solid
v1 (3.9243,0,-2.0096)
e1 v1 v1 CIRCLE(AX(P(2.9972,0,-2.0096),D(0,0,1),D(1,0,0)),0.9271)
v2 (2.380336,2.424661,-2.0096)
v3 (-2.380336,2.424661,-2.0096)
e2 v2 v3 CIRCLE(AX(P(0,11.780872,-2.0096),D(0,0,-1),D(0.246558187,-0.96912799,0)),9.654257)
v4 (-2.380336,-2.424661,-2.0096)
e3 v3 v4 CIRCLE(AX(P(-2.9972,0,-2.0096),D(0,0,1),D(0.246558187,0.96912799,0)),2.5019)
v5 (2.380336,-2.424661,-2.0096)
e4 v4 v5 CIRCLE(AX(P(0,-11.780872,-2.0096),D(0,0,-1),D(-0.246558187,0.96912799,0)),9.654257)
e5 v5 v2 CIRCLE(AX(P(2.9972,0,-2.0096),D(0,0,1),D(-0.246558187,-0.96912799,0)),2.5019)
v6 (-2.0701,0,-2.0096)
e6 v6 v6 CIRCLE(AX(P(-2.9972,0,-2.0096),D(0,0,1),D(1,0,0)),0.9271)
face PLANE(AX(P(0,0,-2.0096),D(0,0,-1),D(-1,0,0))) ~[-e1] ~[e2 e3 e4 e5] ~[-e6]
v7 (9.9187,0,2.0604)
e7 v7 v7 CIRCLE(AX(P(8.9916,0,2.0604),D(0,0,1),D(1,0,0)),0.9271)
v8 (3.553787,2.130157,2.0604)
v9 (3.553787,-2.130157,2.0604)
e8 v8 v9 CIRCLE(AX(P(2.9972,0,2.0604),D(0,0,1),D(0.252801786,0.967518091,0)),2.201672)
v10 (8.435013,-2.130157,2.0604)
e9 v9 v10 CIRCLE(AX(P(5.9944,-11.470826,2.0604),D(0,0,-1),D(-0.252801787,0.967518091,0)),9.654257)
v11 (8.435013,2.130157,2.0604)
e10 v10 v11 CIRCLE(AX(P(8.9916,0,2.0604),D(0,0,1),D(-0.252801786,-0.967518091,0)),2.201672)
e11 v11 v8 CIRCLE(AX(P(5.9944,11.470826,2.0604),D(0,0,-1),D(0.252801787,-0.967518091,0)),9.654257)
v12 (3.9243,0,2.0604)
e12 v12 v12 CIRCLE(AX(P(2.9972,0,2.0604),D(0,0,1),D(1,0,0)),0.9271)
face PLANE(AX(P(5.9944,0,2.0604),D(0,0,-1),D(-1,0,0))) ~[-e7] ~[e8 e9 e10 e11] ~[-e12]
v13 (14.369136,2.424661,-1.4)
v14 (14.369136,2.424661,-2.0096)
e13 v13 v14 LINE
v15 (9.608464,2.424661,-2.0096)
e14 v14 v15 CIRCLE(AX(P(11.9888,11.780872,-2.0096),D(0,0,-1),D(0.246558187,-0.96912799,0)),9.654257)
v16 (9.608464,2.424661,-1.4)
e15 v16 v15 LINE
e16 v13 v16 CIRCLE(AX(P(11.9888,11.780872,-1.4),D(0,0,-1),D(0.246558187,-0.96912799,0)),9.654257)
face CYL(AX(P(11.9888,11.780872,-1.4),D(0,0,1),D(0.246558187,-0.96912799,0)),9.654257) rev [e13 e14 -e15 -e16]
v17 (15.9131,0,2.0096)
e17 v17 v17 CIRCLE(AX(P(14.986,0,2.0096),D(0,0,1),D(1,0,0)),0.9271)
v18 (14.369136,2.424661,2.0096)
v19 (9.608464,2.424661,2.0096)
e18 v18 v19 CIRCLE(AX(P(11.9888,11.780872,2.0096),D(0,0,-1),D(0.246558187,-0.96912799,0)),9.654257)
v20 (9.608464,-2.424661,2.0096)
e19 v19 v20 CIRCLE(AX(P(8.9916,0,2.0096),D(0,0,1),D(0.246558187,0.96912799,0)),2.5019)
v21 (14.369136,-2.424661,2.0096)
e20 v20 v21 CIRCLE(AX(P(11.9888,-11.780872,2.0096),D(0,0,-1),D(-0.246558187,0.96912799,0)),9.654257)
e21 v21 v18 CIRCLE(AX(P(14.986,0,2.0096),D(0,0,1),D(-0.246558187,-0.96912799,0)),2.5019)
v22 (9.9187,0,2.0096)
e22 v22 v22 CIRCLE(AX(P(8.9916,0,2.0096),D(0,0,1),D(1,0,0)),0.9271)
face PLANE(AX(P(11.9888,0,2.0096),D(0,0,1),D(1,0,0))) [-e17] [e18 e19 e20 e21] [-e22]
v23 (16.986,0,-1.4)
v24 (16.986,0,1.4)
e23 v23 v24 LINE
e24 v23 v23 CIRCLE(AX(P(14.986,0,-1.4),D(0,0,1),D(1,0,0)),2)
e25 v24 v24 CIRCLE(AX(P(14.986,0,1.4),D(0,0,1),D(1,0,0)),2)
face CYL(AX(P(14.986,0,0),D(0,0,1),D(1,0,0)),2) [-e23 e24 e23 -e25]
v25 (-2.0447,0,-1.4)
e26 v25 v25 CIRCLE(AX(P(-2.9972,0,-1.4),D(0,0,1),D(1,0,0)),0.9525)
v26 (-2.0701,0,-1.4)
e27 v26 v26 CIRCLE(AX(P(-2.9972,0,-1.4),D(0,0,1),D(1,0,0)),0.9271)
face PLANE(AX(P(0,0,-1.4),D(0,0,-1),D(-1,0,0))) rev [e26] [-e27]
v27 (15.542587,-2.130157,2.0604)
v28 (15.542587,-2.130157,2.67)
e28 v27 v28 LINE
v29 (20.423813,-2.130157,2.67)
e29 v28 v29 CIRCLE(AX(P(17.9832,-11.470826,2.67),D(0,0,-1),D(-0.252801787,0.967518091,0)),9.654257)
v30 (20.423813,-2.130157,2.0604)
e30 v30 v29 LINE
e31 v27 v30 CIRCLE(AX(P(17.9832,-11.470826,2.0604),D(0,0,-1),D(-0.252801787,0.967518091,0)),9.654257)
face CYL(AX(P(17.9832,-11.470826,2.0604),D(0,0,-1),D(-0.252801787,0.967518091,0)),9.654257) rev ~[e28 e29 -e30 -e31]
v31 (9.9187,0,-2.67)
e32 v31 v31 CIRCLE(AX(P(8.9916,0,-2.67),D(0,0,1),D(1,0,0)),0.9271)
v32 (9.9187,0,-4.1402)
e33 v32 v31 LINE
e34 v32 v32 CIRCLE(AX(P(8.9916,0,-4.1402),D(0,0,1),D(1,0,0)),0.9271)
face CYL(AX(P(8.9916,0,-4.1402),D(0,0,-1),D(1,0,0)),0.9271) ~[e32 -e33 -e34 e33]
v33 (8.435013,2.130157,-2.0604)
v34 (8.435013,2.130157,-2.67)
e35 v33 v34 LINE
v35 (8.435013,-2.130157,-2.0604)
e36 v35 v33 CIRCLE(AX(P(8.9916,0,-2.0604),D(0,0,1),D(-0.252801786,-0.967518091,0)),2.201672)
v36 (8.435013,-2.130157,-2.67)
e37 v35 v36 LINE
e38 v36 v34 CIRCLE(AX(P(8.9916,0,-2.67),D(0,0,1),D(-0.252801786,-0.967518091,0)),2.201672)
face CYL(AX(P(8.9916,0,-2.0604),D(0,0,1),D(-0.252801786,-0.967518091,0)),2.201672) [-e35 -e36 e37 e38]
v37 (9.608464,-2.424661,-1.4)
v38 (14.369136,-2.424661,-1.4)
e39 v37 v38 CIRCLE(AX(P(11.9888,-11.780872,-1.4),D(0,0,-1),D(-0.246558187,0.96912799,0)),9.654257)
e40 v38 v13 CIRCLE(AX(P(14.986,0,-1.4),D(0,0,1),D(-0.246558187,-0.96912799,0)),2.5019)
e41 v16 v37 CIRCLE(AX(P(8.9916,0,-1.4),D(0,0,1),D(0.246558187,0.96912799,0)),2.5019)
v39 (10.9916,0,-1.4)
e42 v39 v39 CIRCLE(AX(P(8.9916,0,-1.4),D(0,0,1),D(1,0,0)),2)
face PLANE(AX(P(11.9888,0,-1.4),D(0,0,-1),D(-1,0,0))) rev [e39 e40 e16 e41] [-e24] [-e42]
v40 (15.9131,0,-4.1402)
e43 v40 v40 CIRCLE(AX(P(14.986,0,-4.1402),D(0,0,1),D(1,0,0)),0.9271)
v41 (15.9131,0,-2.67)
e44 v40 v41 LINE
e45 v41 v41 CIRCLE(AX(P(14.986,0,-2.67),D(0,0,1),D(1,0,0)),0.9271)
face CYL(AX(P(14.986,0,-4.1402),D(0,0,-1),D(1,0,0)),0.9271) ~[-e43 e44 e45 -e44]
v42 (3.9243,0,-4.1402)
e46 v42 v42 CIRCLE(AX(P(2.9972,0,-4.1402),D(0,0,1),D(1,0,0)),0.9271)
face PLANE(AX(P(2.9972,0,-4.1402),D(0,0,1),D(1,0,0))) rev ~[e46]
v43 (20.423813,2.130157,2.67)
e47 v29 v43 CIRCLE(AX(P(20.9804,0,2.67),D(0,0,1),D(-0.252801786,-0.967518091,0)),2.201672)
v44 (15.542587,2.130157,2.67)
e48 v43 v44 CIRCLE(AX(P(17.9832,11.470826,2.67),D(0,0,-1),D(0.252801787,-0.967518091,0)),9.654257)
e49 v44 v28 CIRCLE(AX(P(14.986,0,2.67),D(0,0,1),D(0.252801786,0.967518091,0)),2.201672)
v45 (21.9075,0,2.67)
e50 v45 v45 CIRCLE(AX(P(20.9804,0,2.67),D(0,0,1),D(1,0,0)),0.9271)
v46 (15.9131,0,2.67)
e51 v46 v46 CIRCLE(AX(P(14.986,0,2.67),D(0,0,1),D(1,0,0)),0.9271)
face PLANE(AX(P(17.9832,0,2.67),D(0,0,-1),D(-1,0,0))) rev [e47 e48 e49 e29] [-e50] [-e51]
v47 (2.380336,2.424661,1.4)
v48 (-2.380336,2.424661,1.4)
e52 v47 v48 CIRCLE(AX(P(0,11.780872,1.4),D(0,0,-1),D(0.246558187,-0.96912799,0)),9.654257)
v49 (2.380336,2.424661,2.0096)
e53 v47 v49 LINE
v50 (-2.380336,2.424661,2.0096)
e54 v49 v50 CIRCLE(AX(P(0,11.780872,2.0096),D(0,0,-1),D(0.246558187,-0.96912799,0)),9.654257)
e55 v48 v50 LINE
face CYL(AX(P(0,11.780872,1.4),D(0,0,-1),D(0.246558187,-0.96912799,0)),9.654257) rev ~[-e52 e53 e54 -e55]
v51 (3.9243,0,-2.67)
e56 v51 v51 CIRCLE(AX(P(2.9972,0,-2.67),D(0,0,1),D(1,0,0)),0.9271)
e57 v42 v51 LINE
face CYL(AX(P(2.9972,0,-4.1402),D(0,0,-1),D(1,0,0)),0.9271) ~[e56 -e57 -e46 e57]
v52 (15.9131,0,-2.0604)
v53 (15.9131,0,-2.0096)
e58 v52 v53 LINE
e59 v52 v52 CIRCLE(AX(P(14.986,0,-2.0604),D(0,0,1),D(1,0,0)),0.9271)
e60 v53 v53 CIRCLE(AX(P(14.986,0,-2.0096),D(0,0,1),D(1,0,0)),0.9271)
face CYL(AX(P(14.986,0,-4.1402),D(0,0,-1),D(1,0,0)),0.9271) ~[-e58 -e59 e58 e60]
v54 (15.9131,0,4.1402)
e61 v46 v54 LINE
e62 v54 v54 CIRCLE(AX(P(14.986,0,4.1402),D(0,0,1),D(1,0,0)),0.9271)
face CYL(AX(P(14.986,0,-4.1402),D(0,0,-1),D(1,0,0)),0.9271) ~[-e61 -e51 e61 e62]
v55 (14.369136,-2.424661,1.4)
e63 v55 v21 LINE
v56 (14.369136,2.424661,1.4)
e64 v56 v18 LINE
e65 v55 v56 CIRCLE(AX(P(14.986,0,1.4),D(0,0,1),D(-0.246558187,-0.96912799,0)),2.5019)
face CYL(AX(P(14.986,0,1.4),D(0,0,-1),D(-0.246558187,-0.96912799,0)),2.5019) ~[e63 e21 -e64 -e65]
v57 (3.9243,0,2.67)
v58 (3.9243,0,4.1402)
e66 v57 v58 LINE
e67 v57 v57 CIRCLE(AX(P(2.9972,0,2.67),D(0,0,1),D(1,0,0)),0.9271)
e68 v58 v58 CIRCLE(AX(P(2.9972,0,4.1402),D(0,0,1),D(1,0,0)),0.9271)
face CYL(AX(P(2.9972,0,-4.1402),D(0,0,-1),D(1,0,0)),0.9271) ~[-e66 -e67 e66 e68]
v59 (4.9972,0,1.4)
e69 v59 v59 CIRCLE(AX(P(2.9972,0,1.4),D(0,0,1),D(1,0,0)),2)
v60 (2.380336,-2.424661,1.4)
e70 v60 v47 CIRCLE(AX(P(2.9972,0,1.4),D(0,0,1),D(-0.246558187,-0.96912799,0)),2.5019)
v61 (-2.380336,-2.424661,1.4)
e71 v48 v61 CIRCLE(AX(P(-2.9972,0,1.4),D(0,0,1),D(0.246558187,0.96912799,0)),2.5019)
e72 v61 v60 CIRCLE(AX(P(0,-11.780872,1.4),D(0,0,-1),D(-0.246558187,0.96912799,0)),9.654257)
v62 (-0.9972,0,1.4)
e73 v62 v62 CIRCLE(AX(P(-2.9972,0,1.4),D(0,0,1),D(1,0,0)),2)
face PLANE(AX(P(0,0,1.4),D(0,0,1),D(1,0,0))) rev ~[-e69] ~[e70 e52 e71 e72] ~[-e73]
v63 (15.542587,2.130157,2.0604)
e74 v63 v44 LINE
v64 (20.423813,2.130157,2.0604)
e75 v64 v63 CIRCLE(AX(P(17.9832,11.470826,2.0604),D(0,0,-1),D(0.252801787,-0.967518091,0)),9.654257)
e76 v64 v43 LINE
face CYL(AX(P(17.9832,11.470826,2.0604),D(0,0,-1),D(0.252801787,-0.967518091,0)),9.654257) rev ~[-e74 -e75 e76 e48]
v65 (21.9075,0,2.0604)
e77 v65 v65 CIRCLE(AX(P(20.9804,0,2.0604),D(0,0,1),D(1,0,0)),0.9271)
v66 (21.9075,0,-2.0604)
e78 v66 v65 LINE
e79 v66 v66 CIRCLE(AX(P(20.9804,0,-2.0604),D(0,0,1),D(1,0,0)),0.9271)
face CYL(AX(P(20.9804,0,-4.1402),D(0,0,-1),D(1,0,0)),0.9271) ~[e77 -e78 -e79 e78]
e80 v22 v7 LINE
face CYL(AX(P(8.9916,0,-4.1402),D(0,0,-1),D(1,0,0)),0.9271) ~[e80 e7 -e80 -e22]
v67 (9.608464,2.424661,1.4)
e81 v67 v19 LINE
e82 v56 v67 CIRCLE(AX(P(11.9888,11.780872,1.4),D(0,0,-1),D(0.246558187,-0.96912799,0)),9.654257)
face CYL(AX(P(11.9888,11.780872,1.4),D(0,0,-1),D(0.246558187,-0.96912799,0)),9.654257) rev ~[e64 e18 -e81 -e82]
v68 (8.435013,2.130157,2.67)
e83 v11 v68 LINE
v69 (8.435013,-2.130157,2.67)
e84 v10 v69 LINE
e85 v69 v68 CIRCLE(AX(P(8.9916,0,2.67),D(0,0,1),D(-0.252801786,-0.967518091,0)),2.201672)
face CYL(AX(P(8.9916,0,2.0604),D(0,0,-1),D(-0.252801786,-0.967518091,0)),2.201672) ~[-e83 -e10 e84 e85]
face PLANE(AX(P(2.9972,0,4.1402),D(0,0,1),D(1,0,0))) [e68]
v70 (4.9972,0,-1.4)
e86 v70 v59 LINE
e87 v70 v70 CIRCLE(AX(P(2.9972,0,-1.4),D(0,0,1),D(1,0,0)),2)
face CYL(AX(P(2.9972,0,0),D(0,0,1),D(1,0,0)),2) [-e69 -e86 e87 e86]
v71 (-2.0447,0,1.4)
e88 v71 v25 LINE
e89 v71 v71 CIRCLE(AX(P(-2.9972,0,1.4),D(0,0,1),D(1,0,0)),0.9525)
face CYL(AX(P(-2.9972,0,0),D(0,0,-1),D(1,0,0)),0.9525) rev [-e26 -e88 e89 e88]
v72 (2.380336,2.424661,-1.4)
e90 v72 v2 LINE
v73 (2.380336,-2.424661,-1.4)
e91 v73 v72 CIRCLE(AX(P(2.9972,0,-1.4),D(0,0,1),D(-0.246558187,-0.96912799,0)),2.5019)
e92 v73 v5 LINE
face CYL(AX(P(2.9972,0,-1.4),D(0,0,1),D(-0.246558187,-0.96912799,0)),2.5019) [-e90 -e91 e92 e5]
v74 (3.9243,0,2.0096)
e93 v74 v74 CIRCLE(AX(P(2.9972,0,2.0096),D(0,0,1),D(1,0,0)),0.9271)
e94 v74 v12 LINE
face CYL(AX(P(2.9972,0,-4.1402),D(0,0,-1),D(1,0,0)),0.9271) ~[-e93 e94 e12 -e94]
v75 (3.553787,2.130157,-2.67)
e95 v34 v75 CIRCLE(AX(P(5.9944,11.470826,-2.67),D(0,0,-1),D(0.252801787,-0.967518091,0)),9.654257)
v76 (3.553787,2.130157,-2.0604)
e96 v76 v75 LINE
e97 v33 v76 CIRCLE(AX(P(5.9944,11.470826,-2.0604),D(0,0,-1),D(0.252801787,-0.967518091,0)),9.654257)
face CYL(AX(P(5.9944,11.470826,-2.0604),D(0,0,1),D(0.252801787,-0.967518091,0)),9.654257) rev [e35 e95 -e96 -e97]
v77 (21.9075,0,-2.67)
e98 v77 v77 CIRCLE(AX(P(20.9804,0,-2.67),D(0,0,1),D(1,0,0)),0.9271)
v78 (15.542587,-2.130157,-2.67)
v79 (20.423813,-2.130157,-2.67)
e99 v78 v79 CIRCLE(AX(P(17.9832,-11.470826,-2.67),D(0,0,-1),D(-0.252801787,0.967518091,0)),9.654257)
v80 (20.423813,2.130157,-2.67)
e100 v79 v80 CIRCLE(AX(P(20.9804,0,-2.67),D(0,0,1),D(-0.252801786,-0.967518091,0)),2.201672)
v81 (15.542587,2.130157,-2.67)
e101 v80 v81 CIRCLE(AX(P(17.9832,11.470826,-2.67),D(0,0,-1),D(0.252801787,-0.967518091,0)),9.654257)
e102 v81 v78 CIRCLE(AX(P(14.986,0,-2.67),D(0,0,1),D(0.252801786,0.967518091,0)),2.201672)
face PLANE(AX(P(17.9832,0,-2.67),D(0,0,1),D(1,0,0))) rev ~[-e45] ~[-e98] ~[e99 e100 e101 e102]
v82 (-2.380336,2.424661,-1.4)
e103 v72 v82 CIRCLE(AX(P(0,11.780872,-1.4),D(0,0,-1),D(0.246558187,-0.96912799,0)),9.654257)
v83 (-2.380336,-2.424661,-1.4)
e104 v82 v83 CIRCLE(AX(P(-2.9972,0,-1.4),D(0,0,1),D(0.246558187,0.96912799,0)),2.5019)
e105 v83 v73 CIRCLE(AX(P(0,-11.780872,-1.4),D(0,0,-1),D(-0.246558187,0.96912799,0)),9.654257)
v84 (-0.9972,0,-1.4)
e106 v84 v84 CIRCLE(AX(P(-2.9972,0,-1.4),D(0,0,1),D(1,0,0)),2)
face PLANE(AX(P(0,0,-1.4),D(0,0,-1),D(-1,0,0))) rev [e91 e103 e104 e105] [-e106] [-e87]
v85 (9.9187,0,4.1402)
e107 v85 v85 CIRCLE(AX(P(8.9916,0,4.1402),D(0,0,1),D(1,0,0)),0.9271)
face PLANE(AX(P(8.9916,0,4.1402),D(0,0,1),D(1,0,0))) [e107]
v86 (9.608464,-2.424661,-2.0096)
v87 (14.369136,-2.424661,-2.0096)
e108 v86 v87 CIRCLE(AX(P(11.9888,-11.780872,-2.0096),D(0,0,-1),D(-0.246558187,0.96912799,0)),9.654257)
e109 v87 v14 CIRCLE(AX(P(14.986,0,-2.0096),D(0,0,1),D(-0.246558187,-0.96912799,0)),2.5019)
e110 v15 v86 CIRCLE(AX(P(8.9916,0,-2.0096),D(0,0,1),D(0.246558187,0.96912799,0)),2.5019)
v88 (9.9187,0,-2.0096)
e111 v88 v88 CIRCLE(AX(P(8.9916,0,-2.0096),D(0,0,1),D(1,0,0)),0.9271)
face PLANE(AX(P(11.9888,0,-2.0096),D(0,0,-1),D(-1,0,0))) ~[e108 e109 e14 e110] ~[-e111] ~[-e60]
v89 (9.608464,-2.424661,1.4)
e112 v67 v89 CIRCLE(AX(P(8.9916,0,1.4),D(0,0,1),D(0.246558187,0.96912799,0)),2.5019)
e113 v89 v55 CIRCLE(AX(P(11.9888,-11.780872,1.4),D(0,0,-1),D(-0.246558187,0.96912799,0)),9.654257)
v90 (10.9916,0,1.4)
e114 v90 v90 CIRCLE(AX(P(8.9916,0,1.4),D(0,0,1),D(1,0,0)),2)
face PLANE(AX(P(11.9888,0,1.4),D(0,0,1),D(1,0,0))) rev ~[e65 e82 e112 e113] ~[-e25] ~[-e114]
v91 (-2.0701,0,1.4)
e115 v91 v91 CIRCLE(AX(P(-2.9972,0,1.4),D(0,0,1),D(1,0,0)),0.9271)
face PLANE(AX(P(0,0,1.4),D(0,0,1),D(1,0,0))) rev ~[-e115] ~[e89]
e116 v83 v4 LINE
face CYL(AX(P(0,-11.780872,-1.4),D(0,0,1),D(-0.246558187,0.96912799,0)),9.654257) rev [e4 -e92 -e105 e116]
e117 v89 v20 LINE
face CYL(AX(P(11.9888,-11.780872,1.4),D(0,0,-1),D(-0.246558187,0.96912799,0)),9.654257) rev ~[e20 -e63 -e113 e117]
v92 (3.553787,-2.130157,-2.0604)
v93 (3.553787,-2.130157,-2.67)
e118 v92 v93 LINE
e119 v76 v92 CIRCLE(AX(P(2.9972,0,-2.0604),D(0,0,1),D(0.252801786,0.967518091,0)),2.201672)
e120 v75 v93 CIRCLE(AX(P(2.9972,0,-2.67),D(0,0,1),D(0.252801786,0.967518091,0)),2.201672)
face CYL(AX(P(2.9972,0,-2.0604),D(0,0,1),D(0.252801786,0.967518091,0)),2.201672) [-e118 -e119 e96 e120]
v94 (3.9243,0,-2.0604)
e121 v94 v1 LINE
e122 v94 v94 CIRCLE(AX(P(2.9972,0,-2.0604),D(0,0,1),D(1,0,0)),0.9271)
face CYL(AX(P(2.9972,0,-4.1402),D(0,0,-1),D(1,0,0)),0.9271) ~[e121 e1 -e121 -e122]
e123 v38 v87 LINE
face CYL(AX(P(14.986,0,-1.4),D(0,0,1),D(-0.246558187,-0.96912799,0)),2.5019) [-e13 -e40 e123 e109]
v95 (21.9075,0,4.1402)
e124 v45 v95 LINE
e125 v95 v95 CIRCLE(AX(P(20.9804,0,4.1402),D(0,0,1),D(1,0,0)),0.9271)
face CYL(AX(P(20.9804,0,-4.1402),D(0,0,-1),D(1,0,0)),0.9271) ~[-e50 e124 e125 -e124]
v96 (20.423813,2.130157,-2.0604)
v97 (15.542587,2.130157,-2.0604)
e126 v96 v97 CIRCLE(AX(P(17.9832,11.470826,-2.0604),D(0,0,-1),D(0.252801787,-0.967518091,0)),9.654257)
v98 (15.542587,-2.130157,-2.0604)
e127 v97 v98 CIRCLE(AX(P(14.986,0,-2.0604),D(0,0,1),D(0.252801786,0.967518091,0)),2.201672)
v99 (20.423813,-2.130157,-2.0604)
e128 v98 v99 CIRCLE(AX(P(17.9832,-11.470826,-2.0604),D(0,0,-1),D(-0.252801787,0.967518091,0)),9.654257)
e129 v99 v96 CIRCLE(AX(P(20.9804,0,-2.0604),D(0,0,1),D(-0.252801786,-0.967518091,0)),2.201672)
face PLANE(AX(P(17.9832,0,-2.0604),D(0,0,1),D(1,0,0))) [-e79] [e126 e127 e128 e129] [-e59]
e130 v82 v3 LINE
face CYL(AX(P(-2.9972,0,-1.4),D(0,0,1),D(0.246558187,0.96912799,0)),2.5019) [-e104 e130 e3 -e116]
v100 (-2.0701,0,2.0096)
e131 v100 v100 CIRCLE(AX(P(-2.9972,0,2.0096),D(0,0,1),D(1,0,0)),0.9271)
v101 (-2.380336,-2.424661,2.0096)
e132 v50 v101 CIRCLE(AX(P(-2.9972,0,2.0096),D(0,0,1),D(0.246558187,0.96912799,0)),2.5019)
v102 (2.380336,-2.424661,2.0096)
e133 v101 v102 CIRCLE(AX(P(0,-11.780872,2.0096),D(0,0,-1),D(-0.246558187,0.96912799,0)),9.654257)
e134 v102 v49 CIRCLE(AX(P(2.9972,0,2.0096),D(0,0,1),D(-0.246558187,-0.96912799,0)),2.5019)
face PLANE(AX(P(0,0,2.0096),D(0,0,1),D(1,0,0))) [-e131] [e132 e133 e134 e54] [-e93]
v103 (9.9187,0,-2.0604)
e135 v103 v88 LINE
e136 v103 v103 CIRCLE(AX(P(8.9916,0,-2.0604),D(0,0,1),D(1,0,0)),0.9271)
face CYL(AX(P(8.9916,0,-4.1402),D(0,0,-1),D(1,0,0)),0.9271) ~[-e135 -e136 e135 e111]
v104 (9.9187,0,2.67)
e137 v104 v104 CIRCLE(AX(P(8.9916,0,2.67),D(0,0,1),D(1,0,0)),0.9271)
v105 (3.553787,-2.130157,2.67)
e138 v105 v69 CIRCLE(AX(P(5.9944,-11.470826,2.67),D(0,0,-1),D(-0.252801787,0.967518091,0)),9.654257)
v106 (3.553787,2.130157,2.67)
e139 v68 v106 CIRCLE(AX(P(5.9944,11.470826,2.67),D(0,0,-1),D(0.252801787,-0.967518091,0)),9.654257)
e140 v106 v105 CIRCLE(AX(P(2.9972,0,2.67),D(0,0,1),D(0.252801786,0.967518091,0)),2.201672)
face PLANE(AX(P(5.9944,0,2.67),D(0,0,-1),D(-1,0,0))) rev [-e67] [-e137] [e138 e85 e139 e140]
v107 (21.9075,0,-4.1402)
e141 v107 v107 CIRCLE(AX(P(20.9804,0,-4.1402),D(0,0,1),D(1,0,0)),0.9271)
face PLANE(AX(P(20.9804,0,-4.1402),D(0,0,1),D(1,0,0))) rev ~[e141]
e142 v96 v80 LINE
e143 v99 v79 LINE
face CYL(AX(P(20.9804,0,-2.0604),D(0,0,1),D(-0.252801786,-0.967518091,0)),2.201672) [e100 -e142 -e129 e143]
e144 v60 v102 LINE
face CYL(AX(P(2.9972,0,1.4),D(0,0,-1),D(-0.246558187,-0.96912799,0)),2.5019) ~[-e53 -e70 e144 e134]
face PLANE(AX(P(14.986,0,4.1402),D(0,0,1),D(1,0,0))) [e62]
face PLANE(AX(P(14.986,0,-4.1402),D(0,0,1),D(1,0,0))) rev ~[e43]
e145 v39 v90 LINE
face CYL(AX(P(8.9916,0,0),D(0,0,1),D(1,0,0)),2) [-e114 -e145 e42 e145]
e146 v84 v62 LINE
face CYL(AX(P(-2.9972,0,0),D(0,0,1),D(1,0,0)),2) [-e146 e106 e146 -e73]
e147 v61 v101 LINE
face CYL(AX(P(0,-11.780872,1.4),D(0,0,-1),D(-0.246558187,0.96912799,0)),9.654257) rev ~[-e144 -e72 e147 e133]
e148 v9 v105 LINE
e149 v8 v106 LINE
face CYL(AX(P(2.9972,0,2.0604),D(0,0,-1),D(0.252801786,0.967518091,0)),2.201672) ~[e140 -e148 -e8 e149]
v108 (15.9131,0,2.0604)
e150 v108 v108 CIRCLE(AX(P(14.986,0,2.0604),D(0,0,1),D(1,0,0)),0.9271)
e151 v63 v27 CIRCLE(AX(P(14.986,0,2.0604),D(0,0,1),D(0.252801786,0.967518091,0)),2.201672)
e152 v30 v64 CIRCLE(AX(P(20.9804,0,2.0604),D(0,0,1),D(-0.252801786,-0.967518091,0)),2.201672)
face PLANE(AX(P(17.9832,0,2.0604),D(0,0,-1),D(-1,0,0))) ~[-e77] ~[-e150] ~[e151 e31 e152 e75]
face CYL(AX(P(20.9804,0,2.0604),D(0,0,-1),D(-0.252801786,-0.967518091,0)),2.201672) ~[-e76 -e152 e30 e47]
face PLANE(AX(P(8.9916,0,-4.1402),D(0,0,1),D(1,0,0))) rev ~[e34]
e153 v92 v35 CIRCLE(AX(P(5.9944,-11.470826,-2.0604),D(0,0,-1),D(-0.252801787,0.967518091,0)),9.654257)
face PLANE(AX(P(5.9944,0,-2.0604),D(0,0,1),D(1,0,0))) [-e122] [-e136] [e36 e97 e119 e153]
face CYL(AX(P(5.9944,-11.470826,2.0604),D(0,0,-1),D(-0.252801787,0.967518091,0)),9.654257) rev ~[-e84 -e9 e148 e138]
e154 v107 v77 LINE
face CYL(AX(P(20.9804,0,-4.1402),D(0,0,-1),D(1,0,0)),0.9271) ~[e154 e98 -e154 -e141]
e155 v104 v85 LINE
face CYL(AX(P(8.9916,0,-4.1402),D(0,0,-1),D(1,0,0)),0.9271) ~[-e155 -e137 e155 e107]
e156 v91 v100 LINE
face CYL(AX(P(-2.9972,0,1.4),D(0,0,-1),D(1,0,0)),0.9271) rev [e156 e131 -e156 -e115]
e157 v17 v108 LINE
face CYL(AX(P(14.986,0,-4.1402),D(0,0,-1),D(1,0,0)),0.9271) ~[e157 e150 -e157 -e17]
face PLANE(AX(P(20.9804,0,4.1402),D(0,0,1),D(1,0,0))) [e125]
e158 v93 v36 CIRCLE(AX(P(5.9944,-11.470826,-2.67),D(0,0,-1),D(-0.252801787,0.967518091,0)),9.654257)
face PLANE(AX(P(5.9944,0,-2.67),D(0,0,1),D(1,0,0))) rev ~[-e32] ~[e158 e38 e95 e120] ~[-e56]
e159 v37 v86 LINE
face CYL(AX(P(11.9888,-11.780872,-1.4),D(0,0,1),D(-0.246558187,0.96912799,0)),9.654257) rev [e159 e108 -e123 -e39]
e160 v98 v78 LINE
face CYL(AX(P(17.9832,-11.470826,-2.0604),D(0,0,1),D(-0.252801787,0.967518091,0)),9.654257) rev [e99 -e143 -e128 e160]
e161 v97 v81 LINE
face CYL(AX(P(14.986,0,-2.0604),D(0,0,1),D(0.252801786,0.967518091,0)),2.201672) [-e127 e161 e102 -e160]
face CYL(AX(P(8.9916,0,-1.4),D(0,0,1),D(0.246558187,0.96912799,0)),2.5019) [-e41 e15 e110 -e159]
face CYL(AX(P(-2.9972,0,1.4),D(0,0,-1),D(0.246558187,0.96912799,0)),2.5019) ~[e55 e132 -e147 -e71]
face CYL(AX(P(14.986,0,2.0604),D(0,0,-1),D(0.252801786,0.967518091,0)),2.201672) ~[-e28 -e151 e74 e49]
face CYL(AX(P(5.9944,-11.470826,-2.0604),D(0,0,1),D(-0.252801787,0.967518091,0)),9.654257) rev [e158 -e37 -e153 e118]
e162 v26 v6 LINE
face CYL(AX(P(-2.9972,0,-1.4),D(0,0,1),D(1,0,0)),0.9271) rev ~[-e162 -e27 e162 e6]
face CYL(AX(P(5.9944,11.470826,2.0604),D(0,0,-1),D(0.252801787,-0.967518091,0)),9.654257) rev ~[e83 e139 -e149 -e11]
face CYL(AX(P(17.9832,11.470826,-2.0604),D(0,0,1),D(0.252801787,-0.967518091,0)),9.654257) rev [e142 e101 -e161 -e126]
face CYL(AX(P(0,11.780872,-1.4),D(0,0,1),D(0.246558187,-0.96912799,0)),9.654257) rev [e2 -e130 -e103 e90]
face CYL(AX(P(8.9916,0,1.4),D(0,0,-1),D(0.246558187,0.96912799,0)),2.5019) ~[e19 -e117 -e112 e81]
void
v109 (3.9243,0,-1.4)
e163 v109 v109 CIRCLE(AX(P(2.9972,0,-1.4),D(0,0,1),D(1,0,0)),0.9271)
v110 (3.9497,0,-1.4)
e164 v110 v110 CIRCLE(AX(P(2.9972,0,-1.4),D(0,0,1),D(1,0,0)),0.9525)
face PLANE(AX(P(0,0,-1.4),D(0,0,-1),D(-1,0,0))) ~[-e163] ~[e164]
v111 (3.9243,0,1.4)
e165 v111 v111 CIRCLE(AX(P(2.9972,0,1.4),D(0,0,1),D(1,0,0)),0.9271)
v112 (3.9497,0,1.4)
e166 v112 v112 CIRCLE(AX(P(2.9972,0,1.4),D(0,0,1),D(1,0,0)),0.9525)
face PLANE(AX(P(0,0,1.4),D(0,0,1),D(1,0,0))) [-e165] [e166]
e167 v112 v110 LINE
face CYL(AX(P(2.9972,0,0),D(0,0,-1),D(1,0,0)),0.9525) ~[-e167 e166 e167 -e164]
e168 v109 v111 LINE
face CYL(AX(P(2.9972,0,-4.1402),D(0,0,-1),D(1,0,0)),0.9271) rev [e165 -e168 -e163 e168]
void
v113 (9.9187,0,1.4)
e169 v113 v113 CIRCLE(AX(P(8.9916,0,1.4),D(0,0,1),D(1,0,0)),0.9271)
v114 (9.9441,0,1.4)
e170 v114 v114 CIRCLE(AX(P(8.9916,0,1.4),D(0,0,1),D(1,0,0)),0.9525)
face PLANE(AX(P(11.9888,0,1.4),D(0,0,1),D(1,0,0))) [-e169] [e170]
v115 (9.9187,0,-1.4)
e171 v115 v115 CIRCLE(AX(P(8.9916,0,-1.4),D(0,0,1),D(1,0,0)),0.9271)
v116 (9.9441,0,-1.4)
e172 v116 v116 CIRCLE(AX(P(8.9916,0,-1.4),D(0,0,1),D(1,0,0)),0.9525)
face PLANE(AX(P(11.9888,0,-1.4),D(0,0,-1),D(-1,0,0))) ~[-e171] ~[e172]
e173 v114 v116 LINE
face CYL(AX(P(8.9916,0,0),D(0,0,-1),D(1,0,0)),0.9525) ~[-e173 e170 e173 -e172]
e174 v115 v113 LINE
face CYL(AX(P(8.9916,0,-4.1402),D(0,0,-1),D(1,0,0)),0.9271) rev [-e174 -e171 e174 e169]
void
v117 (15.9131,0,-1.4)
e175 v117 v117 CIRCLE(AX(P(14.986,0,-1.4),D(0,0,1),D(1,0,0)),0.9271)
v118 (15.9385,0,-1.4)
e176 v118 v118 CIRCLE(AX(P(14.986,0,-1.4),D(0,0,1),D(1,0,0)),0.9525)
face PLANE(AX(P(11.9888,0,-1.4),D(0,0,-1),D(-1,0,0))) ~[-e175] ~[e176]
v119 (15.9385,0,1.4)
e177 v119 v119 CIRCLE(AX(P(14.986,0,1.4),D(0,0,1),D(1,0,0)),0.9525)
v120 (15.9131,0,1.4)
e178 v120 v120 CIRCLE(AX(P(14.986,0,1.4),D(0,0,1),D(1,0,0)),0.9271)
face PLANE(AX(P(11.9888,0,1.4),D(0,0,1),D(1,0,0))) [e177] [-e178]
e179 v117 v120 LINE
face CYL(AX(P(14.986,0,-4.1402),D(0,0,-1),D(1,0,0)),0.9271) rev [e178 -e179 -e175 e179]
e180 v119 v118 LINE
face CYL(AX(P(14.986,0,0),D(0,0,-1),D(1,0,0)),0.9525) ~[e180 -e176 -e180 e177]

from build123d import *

# Parameters (mm, degrees)
SKETCH4_R                  = 2
SKETCH4_R_2                = 0.9525
BOSS_EXTRUDE1_DEPTH        = 1.4
BOSS_EXTRUDE1_2_DEPTH      = 1.4
SKETCH5_R                  = 0.9271
BOSS_EXTRUDE2_DEPTH        = 0.6096
LPATTERN1_COUNT            = 2
LPATTERN1_PITCH            = 5.9944
SKETCH7_R                  = 0.9271
BOSS_EXTRUDE3_DEPTH        = 0.6096
BOSS_EXTRUDE4_DEPTH        = 4.1402
BOSS_EXTRUDE4_DEPTH_BACK   = 4.1402
SKETCH8_R                  = 0.9271
BOSS_EXTRUDE4_2_DEPTH      = 4.1402
BOSS_EXTRUDE4_2_DEPTH_BACK = 4.1402
LPATTERN2_COUNT            = 2
LPATTERN2_PITCH            = 11.9888


with BuildPart() as part:
    # Sketch4 → Boss-Extrude1 (new, symmetric)
    with BuildSketch(Plane.XY):
        with Locations((-2.9972, 0)):
            Circle(SKETCH4_R)
        with Locations((-2.9972, 0)):
            Circle(SKETCH4_R_2, mode=Mode.SUBTRACT)
    extrude(amount=BOSS_EXTRUDE1_DEPTH, both=True)


with BuildPart() as body_2:
    # Sketch4 → Boss-Extrude1 2 (new, symmetric)
    with BuildSketch(Plane.XY):
        with Locations((2.9972, 0)):
            Circle(SKETCH4_R)
        with Locations((2.9972, 0)):
            Circle(SKETCH4_R_2, mode=Mode.SUBTRACT)
    extrude(amount=BOSS_EXTRUDE1_2_DEPTH, both=True)


with BuildPart() as body_3:
    # Sketch5 → Boss-Extrude2 (new body)
    with BuildSketch(Plane.XY.offset(1.4)):
        with BuildLine():
            ThreePointArc((-2.380336072, 2.424661318), (-5.4991, 0), (-2.380336072, -2.424661318))
            ThreePointArc((-2.380336072, -2.424661318), (0, -2.126615), (2.380336072, -2.424661318))
            ThreePointArc((2.380336072, -2.424661318), (5.4991, 0), (2.380336072, 2.424661318))
            ThreePointArc((2.380336072, 2.424661318), (0, 2.126615), (-2.380336072, 2.424661318))
        make_face()
        with Locations((-2.9972, 0)):
            Circle(SKETCH5_R, mode=Mode.SUBTRACT)
        with Locations((2.9972, 0)):
            Circle(SKETCH5_R, mode=Mode.SUBTRACT)
    extrude(amount=BOSS_EXTRUDE2_DEPTH)


with BuildPart() as lpattern1_1:
    # LPattern1: pattern copy
    add(body_2.part.moved(Location(Vector(1, 0, 0) * (1 * LPATTERN1_PITCH))))


with BuildPart() as body_5:
    # Sketch7 → Boss-Extrude3 (new body)
    with BuildSketch(Plane.XY.offset(-2.0604)):
        with BuildLine():
            ThreePointArc((3.553786614, 2.130157491), (0.795528, 0), (3.553786614, -2.130157491))
            ThreePointArc((3.553786614, -2.130157491), (5.9944, -1.816568799), (8.435013386, -2.130157491))
            ThreePointArc((8.435013386, -2.130157491), (11.193272, 0), (8.435013386, 2.130157491))
            ThreePointArc((8.435013386, 2.130157491), (5.9944, 1.816568799), (3.553786614, 2.130157491))
        make_face()
        with Locations((2.9972, 0)):
            Circle(SKETCH7_R, mode=Mode.SUBTRACT)
        with Locations((8.9916, 0)):
            Circle(SKETCH7_R, mode=Mode.SUBTRACT)
    extrude(amount=-BOSS_EXTRUDE3_DEPTH)


with BuildPart() as body_6:
    # Mirror1: mirrored copy
    add(body_3.part.mirror(Plane.XY))


with BuildPart() as body_7:
    # Mirror1 2: mirrored copy
    add(body_5.part.mirror(Plane.XY))


with BuildPart() as body_8:
    # Sketch8 → Boss-Extrude4 (new, two sides: drawn at the far end of the back side and taken through both)
    with BuildSketch(Plane.XY.offset(-BOSS_EXTRUDE4_DEPTH_BACK)):
        with Locations((2.9972, 0)):
            Circle(SKETCH8_R)
    extrude(amount=BOSS_EXTRUDE4_DEPTH + BOSS_EXTRUDE4_DEPTH_BACK)


with BuildPart() as body_9:
    # Sketch8 → Boss-Extrude4 2 (new, two sides: drawn at the far end of the back side and taken through both)
    with BuildSketch(Plane.XY.offset(-BOSS_EXTRUDE4_2_DEPTH_BACK)):
        with Locations((8.9916, 0)):
            Circle(SKETCH8_R)
    extrude(amount=BOSS_EXTRUDE4_2_DEPTH + BOSS_EXTRUDE4_2_DEPTH_BACK)


with BuildPart() as lpattern2_1:
    # LPattern2: pattern copy
    add(body_9.part.moved(Location(Vector(1, 0, 0) * (1 * LPATTERN2_PITCH))))


with BuildPart() as lpattern2_2:
    # LPattern2: pattern copy
    add(body_8.part.moved(Location(Vector(1, 0, 0) * (1 * LPATTERN2_PITCH))))


with BuildPart() as lpattern2_3:
    # LPattern2: pattern copy
    add(body_7.part.moved(Location(Vector(1, 0, 0) * (1 * LPATTERN2_PITCH))))


with BuildPart() as lpattern2_4:
    # LPattern2: pattern copy
    add(body_6.part.moved(Location(Vector(1, 0, 0) * (1 * LPATTERN2_PITCH))))


with BuildPart() as lpattern2_5:
    # LPattern2: pattern copy
    add(body_5.part.moved(Location(Vector(1, 0, 0) * (1 * LPATTERN2_PITCH))))


with BuildPart() as lpattern2_6:
    # LPattern2: pattern copy
    add(lpattern1_1.part.moved(Location(Vector(1, 0, 0) * (1 * LPATTERN2_PITCH))))


with BuildPart() as lpattern2_7:
    # LPattern2: pattern copy
    add(body_3.part.moved(Location(Vector(1, 0, 0) * (1 * LPATTERN2_PITCH))))


with BuildPart() as lpattern2_8:
    # LPattern2: pattern copy
    add(body_2.part.moved(Location(Vector(1, 0, 0) * (1 * LPATTERN2_PITCH))))


with BuildPart() as lpattern2_9:
    # LPattern2: pattern copy
    add(part.part.moved(Location(Vector(1, 0, 0) * (1 * LPATTERN2_PITCH))))


with BuildPart() as body_2_1:
    add(body_2.part)

    # Combine1: union body 3, LPattern1_1, body 5, body 6, body 7, body 8, body 9, LPattern2_1, LPattern2_2, LPattern2_3, LPattern2_4, LPattern2_5, LPattern2_7, LPattern2_8, LPattern2_9, part
    add(body_3.part)
    add(lpattern1_1.part)
    add(body_5.part)
    add(body_6.part)
    add(body_7.part)
    add(body_8.part)
    add(body_9.part)
    add(lpattern2_1.part)
    add(lpattern2_2.part)
    add(lpattern2_3.part)
    add(lpattern2_4.part)
    add(lpattern2_5.part)
    add(lpattern2_7.part)
    add(lpattern2_8.part)
    add(lpattern2_9.part)
    add(part.part)


solid = body_2_1.part
